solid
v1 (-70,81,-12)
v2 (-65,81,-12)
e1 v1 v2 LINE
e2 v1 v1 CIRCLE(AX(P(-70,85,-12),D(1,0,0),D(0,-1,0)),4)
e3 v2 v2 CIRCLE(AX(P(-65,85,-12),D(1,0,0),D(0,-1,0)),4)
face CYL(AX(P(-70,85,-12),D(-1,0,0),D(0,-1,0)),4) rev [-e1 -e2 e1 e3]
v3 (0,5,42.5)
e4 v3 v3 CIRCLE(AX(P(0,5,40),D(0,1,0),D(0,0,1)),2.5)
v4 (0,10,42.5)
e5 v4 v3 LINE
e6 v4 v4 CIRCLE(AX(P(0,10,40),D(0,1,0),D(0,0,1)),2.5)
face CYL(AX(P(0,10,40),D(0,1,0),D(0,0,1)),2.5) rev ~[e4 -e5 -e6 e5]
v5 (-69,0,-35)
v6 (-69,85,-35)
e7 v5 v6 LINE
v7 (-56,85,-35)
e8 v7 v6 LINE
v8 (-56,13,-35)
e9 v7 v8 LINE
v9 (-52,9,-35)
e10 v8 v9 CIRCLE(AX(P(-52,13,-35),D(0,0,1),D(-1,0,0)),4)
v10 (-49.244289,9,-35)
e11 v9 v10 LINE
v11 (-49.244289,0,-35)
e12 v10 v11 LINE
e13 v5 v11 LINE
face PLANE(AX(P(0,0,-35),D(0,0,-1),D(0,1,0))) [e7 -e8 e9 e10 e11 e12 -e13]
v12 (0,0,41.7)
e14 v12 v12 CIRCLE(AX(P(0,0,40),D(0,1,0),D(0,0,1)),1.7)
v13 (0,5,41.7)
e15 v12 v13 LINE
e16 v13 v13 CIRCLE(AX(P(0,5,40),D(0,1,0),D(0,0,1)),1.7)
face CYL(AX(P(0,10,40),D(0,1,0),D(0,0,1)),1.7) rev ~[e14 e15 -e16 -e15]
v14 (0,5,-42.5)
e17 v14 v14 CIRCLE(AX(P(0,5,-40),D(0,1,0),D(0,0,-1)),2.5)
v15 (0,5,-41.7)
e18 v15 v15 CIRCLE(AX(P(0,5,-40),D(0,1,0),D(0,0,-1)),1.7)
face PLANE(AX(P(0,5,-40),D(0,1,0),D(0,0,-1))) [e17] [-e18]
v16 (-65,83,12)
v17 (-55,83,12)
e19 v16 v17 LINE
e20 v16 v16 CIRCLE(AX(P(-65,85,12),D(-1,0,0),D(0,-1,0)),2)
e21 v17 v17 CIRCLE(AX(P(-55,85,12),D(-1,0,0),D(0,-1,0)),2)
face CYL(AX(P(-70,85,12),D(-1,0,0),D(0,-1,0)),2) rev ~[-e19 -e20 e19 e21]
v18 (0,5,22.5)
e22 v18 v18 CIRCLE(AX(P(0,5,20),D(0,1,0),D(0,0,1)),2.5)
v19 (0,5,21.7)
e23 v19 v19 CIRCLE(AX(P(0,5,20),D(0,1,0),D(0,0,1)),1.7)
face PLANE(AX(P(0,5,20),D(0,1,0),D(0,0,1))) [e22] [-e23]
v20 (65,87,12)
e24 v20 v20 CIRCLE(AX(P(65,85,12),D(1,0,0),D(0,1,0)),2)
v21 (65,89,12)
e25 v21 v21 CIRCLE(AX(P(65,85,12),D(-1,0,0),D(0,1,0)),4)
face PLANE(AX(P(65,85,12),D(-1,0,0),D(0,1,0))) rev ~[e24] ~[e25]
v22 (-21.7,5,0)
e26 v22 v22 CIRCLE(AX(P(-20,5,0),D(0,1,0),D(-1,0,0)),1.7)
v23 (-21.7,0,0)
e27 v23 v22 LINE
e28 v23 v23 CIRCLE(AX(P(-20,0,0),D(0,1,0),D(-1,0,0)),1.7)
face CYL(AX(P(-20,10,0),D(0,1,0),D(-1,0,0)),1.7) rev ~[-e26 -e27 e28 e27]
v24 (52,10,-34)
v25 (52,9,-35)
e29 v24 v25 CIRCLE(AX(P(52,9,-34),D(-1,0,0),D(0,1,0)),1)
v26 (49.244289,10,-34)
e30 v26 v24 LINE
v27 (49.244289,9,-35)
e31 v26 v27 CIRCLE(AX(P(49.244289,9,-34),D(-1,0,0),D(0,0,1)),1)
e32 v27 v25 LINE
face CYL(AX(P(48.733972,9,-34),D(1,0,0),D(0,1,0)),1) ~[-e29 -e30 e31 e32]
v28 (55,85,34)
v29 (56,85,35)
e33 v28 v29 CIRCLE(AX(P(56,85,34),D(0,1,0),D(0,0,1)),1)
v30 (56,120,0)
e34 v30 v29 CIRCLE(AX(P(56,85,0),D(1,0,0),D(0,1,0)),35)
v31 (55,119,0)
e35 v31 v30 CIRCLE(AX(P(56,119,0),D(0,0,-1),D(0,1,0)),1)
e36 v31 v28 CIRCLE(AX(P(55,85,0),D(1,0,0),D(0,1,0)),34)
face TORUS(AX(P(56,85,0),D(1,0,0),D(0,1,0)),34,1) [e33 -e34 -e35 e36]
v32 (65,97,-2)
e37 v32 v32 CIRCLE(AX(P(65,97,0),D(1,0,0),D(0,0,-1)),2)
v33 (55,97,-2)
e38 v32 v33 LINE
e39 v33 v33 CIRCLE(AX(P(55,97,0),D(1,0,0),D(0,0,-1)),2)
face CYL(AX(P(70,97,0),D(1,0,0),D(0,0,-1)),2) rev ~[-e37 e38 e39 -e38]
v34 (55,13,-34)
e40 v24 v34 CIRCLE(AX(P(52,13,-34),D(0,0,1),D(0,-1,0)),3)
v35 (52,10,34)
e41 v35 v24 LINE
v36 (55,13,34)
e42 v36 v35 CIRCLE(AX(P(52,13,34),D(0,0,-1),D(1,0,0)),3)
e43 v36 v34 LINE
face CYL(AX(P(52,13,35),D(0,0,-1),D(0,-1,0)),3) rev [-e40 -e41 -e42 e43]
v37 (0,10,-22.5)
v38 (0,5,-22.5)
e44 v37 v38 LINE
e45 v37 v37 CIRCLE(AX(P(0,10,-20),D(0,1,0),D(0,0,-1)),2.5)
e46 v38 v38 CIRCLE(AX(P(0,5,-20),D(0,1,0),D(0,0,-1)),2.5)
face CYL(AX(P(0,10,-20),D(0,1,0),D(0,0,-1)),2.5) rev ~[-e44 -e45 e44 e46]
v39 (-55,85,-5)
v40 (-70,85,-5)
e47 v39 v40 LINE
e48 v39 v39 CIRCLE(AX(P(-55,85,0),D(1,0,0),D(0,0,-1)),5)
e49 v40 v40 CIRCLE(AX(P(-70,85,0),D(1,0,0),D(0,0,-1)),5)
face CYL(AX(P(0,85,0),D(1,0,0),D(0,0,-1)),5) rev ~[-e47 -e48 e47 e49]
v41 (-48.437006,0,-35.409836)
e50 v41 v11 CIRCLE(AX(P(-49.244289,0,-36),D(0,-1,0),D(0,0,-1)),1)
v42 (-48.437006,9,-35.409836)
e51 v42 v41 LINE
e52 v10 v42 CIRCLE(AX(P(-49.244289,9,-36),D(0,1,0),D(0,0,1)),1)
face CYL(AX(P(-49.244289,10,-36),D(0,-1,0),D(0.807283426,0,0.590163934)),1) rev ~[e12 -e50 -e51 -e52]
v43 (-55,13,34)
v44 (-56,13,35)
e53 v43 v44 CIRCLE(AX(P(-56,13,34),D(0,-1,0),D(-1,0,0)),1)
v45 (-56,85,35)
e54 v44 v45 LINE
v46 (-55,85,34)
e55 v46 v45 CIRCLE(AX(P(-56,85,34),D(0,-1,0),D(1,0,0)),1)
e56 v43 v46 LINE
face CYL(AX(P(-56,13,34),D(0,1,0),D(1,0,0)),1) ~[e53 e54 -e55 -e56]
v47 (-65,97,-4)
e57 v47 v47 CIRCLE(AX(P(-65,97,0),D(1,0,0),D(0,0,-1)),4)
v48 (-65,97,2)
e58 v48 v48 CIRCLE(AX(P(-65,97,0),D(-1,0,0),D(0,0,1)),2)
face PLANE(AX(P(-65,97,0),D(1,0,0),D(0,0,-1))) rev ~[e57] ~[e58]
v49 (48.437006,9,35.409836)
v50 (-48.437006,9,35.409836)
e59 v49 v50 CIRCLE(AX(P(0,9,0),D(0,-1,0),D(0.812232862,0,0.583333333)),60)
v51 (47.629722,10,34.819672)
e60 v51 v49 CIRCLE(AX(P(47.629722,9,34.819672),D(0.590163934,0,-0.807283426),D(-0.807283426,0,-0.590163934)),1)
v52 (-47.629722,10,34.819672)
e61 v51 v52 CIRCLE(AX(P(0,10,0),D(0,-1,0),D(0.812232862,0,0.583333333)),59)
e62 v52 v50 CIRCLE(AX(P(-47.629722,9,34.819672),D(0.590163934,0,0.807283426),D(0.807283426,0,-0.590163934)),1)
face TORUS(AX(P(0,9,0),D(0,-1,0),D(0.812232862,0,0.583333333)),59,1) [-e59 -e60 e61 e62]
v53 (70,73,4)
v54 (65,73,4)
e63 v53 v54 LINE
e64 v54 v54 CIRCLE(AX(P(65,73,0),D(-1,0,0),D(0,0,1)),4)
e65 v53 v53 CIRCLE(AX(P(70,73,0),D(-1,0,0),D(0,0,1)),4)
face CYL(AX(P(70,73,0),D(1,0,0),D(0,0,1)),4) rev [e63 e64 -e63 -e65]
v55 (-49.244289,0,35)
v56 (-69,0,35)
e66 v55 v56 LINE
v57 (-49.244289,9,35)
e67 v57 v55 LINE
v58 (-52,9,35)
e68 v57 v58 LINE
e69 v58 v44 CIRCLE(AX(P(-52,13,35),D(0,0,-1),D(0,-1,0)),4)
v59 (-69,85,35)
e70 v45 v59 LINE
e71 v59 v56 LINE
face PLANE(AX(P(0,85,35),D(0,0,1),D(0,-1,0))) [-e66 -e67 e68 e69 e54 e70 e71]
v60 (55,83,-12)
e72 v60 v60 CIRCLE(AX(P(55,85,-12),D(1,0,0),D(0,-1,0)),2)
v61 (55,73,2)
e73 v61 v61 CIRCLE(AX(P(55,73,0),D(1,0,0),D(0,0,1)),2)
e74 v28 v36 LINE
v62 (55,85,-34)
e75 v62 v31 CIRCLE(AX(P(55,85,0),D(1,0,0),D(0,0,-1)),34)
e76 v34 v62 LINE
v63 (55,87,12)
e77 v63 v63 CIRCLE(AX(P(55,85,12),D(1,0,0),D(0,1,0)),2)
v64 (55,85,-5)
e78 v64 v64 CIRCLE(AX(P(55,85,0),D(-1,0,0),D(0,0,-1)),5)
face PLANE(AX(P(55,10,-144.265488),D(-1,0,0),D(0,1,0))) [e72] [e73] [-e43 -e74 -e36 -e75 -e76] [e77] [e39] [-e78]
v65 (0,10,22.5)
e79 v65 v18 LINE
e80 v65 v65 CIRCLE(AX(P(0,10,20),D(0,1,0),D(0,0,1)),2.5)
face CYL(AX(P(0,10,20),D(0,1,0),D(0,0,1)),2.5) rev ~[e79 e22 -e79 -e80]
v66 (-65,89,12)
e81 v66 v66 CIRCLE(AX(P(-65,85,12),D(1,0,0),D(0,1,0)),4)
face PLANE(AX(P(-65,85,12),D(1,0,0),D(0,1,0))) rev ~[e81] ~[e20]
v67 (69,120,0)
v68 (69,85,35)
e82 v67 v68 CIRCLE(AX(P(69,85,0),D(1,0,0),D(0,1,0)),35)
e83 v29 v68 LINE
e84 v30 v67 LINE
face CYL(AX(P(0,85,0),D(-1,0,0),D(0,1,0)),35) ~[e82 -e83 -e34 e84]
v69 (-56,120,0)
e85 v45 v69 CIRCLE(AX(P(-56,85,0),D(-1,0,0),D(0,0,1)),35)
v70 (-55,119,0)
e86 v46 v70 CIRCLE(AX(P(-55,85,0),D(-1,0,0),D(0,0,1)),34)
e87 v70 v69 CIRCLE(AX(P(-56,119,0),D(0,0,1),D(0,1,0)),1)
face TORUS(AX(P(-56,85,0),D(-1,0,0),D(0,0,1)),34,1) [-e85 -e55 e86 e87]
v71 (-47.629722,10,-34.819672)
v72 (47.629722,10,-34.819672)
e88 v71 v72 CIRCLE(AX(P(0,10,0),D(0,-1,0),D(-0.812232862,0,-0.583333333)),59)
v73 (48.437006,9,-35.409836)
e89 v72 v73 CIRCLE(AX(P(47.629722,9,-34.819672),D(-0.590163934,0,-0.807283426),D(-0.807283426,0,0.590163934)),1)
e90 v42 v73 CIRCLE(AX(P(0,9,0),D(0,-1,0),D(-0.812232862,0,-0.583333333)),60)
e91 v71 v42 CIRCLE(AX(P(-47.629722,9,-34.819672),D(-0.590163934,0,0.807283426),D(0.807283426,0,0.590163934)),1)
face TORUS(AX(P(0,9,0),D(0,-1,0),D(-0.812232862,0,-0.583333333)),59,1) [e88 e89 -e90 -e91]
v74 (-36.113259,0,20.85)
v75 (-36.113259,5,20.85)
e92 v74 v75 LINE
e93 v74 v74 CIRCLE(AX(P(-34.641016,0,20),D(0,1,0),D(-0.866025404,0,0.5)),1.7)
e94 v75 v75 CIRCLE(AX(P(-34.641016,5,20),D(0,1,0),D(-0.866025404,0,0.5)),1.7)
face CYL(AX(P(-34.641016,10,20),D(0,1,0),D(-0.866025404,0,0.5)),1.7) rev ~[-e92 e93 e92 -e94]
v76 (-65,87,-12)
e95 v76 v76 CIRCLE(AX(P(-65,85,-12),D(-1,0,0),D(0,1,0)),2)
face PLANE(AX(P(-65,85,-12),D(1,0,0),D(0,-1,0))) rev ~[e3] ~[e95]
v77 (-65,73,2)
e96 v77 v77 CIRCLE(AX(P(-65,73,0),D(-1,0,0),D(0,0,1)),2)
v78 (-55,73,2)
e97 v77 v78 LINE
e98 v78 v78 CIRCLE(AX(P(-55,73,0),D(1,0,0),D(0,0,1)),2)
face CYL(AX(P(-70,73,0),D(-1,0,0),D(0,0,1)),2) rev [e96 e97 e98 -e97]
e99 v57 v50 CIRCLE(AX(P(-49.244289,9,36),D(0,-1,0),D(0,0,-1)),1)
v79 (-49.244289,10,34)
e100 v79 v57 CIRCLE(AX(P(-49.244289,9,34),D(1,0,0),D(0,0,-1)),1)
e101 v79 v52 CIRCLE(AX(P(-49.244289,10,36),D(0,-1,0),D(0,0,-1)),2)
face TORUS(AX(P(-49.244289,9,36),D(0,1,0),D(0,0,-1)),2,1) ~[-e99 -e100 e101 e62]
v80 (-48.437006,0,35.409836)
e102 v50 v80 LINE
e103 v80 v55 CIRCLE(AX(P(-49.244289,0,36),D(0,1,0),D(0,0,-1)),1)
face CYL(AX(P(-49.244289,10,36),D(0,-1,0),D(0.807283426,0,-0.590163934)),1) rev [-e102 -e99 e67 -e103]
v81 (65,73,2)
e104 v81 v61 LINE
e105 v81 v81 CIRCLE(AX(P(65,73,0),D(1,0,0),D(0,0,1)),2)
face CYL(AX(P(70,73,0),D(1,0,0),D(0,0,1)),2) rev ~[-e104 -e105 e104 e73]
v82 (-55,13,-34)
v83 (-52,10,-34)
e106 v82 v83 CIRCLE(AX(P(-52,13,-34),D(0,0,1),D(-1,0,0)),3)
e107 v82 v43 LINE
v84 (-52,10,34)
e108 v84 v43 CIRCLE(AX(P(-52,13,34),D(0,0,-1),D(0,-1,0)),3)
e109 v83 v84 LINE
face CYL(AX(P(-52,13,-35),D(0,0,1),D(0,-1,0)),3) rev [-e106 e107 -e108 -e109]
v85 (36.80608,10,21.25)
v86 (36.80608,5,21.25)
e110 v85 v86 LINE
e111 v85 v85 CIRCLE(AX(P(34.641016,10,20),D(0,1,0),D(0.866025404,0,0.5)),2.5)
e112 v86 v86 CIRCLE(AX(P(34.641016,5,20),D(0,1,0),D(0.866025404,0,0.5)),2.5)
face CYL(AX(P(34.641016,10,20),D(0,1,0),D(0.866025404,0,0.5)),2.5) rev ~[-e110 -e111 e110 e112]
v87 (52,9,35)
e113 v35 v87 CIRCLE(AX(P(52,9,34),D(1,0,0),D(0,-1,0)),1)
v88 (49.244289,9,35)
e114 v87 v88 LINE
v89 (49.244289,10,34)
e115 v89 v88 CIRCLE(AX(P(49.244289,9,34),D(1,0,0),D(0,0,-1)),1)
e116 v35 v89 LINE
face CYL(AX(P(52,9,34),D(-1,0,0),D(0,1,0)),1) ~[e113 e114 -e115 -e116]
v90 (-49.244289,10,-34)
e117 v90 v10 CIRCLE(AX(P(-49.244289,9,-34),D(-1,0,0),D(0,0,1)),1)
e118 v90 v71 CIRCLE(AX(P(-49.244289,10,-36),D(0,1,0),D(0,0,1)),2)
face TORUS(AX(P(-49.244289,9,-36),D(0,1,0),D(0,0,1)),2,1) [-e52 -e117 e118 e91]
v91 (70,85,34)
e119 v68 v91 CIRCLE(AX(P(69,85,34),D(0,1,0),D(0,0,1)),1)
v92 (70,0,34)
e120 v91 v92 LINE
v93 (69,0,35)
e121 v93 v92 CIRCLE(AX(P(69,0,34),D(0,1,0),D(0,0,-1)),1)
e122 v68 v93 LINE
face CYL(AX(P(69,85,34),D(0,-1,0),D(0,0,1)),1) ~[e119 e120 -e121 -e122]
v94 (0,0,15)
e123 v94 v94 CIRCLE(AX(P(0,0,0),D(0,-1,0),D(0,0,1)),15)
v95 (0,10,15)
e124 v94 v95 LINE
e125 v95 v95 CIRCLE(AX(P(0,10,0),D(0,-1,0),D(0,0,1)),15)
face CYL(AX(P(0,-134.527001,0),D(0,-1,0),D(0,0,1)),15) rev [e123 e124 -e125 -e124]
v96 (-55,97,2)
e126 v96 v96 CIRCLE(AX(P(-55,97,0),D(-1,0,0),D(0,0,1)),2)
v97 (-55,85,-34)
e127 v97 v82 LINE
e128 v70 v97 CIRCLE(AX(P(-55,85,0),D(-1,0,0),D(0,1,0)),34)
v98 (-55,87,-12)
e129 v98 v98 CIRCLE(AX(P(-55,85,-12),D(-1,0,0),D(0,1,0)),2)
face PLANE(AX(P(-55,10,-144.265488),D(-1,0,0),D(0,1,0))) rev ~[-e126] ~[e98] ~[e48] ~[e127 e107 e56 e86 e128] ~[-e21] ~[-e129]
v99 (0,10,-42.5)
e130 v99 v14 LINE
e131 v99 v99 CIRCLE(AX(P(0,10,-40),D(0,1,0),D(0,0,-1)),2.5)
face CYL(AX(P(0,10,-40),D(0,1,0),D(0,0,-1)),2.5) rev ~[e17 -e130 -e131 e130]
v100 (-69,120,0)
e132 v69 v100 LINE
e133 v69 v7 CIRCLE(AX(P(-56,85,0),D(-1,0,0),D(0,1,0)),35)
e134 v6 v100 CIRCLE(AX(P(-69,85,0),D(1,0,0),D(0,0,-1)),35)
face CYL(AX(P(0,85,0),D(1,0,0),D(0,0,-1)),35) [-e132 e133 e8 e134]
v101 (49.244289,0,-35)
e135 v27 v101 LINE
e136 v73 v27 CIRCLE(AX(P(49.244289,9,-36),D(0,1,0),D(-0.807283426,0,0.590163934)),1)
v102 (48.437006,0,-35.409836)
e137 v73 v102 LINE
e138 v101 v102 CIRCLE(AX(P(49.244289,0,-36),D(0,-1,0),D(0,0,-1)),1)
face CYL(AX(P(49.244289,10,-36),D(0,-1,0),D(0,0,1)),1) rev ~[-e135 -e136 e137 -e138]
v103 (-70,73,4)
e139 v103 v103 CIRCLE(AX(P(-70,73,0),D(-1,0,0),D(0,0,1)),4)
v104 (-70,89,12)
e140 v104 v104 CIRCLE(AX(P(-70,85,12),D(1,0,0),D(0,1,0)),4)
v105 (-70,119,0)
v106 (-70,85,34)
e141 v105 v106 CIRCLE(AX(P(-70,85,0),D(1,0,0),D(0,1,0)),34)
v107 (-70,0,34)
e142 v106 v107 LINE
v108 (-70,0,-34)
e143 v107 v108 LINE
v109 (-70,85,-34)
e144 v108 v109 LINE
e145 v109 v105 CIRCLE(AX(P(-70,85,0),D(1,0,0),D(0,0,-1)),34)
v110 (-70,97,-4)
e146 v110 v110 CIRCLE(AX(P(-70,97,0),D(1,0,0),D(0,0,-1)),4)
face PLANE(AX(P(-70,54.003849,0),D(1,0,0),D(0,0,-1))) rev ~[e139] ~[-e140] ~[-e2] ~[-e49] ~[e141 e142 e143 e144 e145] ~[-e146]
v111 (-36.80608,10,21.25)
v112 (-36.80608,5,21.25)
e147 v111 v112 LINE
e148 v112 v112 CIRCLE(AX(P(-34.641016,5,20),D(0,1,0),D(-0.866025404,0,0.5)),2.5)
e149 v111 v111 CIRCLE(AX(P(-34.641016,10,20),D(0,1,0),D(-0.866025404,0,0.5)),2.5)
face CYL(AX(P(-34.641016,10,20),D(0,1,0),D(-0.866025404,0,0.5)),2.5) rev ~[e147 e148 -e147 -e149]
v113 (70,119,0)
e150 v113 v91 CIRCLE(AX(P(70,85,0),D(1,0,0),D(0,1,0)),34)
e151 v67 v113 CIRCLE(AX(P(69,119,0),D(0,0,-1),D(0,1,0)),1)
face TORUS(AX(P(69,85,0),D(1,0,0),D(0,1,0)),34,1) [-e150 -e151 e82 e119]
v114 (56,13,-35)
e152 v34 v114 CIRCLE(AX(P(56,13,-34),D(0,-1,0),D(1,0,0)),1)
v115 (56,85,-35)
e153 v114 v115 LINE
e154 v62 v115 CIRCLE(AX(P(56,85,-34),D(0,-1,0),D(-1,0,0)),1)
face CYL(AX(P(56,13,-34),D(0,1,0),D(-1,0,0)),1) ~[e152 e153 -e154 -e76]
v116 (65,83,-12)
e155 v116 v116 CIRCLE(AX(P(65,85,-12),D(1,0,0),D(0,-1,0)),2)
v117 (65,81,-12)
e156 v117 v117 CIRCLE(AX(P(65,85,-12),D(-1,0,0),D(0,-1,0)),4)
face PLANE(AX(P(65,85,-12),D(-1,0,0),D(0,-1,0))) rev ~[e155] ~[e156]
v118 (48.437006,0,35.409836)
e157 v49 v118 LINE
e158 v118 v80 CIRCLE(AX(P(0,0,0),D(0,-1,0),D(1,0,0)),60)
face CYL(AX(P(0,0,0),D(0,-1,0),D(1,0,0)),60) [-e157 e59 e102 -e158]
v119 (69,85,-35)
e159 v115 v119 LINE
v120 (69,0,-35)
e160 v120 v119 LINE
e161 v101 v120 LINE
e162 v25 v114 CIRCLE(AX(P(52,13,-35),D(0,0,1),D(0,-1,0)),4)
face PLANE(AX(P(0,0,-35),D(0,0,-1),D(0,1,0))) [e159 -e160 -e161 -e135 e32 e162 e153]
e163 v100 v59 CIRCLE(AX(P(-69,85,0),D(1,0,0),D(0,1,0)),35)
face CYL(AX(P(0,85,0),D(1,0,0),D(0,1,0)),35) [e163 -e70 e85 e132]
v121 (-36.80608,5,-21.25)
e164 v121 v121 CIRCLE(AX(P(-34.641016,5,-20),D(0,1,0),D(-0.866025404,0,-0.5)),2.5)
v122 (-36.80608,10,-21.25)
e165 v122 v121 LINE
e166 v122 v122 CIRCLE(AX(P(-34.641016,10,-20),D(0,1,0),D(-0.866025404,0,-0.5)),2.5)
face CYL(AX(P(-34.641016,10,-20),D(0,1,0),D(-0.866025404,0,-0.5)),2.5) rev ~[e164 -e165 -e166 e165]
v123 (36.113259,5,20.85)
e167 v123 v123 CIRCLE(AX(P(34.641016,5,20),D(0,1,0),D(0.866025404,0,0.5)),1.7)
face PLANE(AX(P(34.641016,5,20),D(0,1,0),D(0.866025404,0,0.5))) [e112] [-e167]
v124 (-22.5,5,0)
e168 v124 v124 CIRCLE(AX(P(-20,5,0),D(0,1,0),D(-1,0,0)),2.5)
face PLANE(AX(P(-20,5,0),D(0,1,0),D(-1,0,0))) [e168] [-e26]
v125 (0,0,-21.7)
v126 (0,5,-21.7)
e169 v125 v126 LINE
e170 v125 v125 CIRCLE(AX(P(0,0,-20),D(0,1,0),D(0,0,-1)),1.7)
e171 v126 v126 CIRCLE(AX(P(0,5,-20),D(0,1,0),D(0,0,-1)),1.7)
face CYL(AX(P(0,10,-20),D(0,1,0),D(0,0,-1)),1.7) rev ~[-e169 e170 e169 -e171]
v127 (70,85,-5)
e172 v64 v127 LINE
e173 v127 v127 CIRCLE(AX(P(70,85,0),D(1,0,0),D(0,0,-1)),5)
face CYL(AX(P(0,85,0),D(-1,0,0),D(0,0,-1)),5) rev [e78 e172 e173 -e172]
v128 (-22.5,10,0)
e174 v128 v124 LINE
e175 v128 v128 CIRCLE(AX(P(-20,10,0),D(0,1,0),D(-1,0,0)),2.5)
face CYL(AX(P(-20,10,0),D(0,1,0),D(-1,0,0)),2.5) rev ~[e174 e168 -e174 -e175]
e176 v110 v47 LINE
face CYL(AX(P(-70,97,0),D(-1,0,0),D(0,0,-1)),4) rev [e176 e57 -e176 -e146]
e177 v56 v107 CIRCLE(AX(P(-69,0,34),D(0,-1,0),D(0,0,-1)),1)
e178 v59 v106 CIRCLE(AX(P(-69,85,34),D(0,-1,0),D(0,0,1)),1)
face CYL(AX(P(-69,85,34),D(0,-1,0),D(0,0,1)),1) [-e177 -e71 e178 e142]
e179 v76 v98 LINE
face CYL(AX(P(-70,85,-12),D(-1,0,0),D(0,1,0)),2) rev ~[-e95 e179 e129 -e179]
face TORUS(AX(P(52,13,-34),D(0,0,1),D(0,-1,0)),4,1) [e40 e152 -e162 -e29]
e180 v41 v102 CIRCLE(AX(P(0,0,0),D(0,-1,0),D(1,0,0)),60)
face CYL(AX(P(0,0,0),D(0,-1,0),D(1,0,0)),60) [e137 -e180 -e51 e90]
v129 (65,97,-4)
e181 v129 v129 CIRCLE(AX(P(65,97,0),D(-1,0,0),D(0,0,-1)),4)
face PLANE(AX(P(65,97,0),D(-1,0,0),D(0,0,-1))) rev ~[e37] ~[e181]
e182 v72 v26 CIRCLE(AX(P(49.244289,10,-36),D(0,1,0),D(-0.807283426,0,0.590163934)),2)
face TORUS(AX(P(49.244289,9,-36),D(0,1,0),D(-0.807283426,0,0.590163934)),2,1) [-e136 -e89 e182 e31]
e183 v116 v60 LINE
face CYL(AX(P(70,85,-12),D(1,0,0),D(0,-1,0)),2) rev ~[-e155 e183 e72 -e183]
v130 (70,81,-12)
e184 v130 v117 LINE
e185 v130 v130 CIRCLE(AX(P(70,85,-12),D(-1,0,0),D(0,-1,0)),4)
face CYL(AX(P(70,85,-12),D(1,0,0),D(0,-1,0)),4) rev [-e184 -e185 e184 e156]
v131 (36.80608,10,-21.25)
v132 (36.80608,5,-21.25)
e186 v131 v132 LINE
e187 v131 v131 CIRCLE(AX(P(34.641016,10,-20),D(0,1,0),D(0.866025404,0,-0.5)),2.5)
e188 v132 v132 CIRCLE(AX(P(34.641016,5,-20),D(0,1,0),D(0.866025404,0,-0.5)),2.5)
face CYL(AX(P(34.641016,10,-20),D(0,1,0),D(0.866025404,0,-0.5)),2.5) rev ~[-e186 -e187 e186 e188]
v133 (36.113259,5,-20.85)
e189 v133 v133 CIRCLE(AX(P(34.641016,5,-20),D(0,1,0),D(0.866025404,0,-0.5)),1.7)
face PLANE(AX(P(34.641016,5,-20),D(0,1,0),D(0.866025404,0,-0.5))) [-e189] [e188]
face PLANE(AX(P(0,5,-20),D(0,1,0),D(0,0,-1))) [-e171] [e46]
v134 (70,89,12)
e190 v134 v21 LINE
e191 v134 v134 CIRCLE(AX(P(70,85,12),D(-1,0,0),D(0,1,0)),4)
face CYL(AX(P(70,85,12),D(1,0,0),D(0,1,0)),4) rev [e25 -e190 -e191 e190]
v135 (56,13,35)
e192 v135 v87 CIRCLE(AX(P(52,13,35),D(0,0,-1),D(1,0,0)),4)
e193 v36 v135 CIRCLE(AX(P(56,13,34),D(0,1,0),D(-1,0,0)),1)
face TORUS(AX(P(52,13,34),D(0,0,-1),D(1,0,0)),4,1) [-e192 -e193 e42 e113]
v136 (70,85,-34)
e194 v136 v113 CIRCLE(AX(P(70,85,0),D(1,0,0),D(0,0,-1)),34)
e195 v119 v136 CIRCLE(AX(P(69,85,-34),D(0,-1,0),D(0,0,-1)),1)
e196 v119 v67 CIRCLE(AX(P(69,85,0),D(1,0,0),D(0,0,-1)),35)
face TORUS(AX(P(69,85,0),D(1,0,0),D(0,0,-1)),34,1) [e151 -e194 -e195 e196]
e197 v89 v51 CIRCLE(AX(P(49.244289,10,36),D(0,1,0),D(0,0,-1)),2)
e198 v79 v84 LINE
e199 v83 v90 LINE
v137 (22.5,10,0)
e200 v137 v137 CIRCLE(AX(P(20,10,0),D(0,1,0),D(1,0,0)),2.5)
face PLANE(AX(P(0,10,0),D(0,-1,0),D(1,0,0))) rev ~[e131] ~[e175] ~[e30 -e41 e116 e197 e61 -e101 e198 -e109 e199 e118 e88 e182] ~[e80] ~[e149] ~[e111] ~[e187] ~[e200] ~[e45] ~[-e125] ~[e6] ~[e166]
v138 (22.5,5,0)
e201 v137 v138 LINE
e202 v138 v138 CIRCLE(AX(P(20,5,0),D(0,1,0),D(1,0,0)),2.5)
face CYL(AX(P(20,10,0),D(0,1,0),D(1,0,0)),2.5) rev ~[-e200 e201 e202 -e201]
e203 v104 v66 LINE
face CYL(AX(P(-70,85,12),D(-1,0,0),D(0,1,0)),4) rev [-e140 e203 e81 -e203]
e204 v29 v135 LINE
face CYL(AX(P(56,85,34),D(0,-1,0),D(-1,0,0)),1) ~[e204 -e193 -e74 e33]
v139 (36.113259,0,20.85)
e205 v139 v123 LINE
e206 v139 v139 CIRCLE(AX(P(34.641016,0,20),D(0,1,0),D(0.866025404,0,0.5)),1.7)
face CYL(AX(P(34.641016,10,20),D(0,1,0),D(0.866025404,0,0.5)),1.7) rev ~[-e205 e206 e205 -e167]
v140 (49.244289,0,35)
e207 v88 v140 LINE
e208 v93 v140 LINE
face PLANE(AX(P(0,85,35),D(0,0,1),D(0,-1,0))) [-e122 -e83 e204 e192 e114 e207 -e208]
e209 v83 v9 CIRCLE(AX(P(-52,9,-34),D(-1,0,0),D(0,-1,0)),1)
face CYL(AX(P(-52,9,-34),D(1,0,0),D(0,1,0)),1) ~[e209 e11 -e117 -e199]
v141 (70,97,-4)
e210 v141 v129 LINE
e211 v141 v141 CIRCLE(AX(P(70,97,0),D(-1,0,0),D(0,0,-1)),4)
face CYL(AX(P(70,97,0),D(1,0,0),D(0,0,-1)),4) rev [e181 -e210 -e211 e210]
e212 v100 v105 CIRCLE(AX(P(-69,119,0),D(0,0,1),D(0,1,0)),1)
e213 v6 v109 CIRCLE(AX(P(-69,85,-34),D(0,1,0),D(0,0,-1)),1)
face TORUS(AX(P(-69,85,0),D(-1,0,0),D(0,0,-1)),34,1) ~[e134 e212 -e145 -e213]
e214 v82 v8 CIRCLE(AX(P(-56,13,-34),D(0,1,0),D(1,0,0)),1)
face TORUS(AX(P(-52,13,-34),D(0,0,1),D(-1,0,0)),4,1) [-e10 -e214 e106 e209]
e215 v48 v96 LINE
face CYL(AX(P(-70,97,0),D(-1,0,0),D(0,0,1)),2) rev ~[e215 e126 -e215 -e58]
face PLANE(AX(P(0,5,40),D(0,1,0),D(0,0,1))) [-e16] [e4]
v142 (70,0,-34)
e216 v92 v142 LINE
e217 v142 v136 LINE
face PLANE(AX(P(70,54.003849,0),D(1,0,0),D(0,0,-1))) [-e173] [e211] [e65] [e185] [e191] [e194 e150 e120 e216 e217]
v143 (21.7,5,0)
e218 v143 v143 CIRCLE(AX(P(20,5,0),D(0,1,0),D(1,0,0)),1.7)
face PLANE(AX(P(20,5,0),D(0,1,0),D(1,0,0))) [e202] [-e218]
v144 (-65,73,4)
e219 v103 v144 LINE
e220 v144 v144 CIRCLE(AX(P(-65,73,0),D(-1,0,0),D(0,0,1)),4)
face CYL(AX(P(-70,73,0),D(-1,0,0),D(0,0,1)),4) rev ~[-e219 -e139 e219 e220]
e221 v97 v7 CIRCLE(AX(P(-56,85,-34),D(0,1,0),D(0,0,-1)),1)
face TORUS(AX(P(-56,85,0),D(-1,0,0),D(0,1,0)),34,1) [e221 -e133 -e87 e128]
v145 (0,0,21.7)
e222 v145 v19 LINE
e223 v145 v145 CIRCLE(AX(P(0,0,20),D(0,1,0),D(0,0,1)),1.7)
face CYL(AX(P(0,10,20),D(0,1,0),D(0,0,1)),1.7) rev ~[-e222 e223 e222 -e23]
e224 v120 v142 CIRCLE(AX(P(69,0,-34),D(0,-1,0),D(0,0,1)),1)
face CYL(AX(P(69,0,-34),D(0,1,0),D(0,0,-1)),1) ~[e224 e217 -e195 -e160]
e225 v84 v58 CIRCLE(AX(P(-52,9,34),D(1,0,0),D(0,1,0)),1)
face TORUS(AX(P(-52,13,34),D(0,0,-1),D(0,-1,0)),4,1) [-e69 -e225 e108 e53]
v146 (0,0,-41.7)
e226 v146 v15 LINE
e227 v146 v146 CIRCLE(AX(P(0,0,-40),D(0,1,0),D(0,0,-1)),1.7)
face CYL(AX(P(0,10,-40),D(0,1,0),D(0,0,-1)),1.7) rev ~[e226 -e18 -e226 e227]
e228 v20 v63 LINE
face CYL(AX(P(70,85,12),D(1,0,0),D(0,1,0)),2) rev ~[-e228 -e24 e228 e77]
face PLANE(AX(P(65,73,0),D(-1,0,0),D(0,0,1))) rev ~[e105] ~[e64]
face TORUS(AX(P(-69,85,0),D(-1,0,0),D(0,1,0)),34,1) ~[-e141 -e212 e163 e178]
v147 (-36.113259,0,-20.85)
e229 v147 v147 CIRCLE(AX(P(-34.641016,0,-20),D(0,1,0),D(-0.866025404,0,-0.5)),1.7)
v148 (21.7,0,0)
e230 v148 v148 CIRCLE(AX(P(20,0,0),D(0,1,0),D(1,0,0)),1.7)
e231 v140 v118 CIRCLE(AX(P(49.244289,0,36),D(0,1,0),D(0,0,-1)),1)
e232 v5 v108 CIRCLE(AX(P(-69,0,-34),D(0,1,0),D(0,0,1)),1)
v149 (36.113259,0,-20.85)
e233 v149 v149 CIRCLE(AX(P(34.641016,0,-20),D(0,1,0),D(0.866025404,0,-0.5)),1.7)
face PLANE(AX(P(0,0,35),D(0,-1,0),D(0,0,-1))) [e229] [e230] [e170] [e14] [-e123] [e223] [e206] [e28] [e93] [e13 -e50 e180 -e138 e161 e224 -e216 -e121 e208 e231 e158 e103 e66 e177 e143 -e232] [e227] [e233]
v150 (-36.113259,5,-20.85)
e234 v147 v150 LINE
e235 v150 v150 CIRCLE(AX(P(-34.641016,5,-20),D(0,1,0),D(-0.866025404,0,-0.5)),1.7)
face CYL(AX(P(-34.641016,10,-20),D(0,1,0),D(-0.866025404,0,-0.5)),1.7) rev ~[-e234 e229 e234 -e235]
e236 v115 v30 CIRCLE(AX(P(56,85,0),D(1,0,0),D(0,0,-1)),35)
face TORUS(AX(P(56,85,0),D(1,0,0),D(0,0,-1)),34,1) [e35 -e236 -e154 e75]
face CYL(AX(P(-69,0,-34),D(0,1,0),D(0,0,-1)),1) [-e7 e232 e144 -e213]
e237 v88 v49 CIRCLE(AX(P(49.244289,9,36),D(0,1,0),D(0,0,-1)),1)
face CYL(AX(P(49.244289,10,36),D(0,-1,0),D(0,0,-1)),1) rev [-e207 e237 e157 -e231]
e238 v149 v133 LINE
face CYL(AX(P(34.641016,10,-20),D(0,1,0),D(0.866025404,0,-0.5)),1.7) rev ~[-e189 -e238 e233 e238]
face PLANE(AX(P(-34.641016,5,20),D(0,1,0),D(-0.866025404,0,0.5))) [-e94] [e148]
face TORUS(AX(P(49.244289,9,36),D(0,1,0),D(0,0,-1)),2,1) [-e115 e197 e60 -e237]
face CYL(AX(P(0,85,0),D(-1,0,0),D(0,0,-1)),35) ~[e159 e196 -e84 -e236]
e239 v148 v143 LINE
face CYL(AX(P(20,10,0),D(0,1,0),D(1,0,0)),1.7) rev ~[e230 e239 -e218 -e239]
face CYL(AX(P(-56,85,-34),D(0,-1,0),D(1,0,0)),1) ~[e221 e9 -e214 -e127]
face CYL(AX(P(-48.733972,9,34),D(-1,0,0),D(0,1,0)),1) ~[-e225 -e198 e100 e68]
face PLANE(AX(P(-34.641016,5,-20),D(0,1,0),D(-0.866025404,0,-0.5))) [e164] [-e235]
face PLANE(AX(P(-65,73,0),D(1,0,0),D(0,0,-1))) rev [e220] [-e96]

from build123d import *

# Parameters (mm, degrees)
SKETCH1_R                      = 5
BOSS_EXTRUDE1_DEPTH            = 70
CUT_EXTRUDE1_DEPTH             = 144.265487819
CUT_EXTRUDE1_DEPTH_BACK        = 144.265487819
SKETCH2_W                      = 110
SKETCH2_H                      = 110
SKETCH10_R                     = 60
BOSS_EXTRUDE3_DEPTH            = 10
CUT_EXTRUDE5_DEPTH             = 144.527000944
CUT_EXTRUDE5_DEPTH_BACK        = 144.527000944
SKETCH6_R                      = 15
CUT_EXTRUDE6_REACH             = 195.907
SKETCH7_R                      = 2
CUT_EXTRUDE6_DIRECTION_2_DEPTH = 194.907194297
SKETCH8_R                      = 4
CUT_EXTRUDE7_DEPTH             = 5
CIRPATTERN1_COUNT              = 4
MIRROR2_COPY_1_REACH           = 195.907
MIRROR2_COPY_1_SKETCH_R        = 2
MIRROR2_COPY_2_REACH           = 195.907
MIRROR2_COPY_2_SKETCH_R        = 2
MIRROR2_COPY_3_REACH           = 195.907
MIRROR2_COPY_3_SKETCH_R        = 2
MIRROR2_COPY_4_SKETCH_R        = 2
MIRROR2_COPY_4_DEPTH           = 194.907194297
MIRROR2_COPY_5_SKETCH_R        = 2
MIRROR2_COPY_5_DEPTH           = 194.907194297
MIRROR2_COPY_6_SKETCH_R        = 2
MIRROR2_COPY_6_DEPTH           = 194.907194297
MIRROR2_COPY_7_SKETCH_R        = 4
MIRROR2_COPY_7_DEPTH           = 5
MIRROR2_COPY_8_SKETCH_R        = 4
MIRROR2_COPY_8_DEPTH           = 5
MIRROR2_COPY_9_SKETCH_R        = 4
MIRROR2_COPY_9_DEPTH           = 5
MIRROR2_COPY_10_SKETCH_R       = 2
MIRROR2_COPY_10_DEPTH          = 194.907194297
SKETCH11_R                     = 1.7
CUT_EXTRUDE8_DEPTH             = 144.527000944
SKETCH12_R                     = 2.5
CUT_EXTRUDE9_DEPTH             = 5
CIRPATTERN2_COUNT              = 6
SKETCH13_R                     = 1.7
CUT_EXTRUDE10_DEPTH            = 144.527000944
SKETCH14_R                     = 2.5
CUT_EXTRUDE11_DEPTH            = 5
CIRPATTERN3_COUNT              = 4
FILLET2_R                      = 3
FILLET1_R                      = 1


with BuildPart() as part:
    # Sketch1 → Boss-Extrude1 (new, symmetric)
    with BuildSketch(Plane(origin=(0, 0, 0), x_dir=(0, 0, -1), z_dir=(1, 0, 0))):
        with BuildLine():
            Line((-35, 0), (35, 0))
            Line((35, 0), (35, 85))
            ThreePointArc((35, 85), (24.748737342, 109.748737342), (0, 120))
            ThreePointArc((0, 120), (-24.748737342, 109.748737342), (-35, 85))
            Line((-35, 85), (-35, 0))
        make_face()
        with Locations((0, 85)):
            Circle(SKETCH1_R, mode=Mode.SUBTRACT)
    extrude(amount=BOSS_EXTRUDE1_DEPTH, both=True)

    # Sketch2 → Cut-Extrude1 (cut, two sides: drawn at the far end of the back side and taken through both)
    with BuildSketch(Plane.XY.offset(-CUT_EXTRUDE1_DEPTH_BACK)):
        with Locations((0, 65)):
            Rectangle(SKETCH2_W, SKETCH2_H)
    extrude(amount=CUT_EXTRUDE1_DEPTH + CUT_EXTRUDE1_DEPTH_BACK, mode=Mode.SUBTRACT)

    # Sketch10 → Boss-Extrude3 (add)
    with BuildSketch(Plane.XZ):
        Circle(SKETCH10_R)
    extrude(amount=-BOSS_EXTRUDE3_DEPTH)

    # Sketch6 → Cut-Extrude5 (cut, two sides: drawn at the far end of the back side and taken through both)
    with BuildSketch(Plane(origin=(0, 10, 0), x_dir=(1, 0, 0), z_dir=(0, 1, 0)).offset(-CUT_EXTRUDE5_DEPTH_BACK)):
        with Locations(Location((0, 0, 0), (0, 0, 270))):
            Circle(SKETCH6_R)
    extrude(amount=CUT_EXTRUDE5_DEPTH + CUT_EXTRUDE5_DEPTH_BACK, mode=Mode.SUBTRACT)

    # Sketch7 → Cut-Extrude6 (cut, up to next)
    with BuildSketch(Plane(origin=(70, 0, 0), x_dir=(0, 0, -1), z_dir=(1, 0, 0)), mode=Mode.PRIVATE) as cut_extrude6_sk1:
        with Locations(Location((0, 73, 0), (0, 0, 180))):
            Circle(SKETCH7_R)
    cut_extrude6_tool1 = extrude(cut_extrude6_sk1.sketch, amount=-CUT_EXTRUDE6_REACH, mode=Mode.PRIVATE) & part.part
    cut_extrude6 = cut_extrude6_tool1.solids().sort_by_distance((70, 73, 0))[0]
    add(cut_extrude6, mode=Mode.SUBTRACT)

    # Sketch7 → Cut-Extrude6 direction 2 (cut)
    with BuildSketch(Plane(origin=(70, 0, 0), x_dir=(0, 0, -1), z_dir=(1, 0, 0))):
        with Locations(Location((0, 73, 0), (0, 0, 180))):
            Circle(SKETCH7_R)
    cut_extrude6_direction_2 = extrude(amount=CUT_EXTRUDE6_DIRECTION_2_DEPTH, mode=Mode.SUBTRACT)

    # Sketch8 → Cut-Extrude7 (cut)
    with BuildSketch(Plane.ZY.offset(-70)):
        with Locations((0, 73)):
            Circle(SKETCH8_R)
    cut_extrude7 = extrude(amount=CUT_EXTRUDE7_DEPTH, mode=Mode.SUBTRACT)

    # CirPattern1: Cut-Extrude6, Cut-Extrude6 direction 2, Cut-Extrude7 ×4 about axis
    cirpattern1_axis = Axis((0, 85, 0), (1, 0, 0))
    add([cut_extrude6.rotate(cirpattern1_axis, i * 360 / CIRPATTERN1_COUNT) for i in range(1, CIRPATTERN1_COUNT)], mode=Mode.SUBTRACT)
    add([cut_extrude6_direction_2.rotate(cirpattern1_axis, i * 360 / CIRPATTERN1_COUNT) for i in range(1, CIRPATTERN1_COUNT)], mode=Mode.SUBTRACT)
    add([cut_extrude7.rotate(cirpattern1_axis, i * 360 / CIRPATTERN1_COUNT) for i in range(1, CIRPATTERN1_COUNT)], mode=Mode.SUBTRACT)

    # Mirror2: Cut-Extrude6, Cut-Extrude6 direction 2, Cut-Extrude7 across plane
    add(cut_extrude6.mirror(Plane(origin=(0, 0, 0), x_dir=(0, 0, 1), z_dir=(1, 0, 0))), mode=Mode.SUBTRACT)
    add(cut_extrude6_direction_2.mirror(Plane(origin=(0, 0, 0), x_dir=(0, 0, 1), z_dir=(1, 0, 0))), mode=Mode.SUBTRACT)
    add(cut_extrude7.mirror(Plane(origin=(0, 0, 0), x_dir=(0, 0, 1), z_dir=(1, 0, 0))), mode=Mode.SUBTRACT)

    # Mirror2 copy 1 sketch → Mirror2 copy 1 (cut, up to next)
    with BuildSketch(Plane(origin=(-70, 85, -85), x_dir=(0, 1, 0), z_dir=(-1, 0, 0)), mode=Mode.PRIVATE) as mirror2_copy_1_sk1:
        with Locations((0, -73)):
            Circle(MIRROR2_COPY_1_SKETCH_R)
    mirror2_copy_1_tool1 = extrude(mirror2_copy_1_sk1.sketch, amount=-MIRROR2_COPY_1_REACH, mode=Mode.PRIVATE) & part.part
    add(mirror2_copy_1_tool1.solids().sort_by_distance((-70, 85, -12))[0], mode=Mode.SUBTRACT)

    # Mirror2 copy 2 sketch → Mirror2 copy 2 (cut, up to next)
    with BuildSketch(Plane(origin=(-70, 170, 0), x_dir=(0, 0, 1), z_dir=(-1, 0, 0)), mode=Mode.PRIVATE) as mirror2_copy_2_sk1:
        with Locations((0, -73)):
            Circle(MIRROR2_COPY_2_SKETCH_R)
    mirror2_copy_2_tool1 = extrude(mirror2_copy_2_sk1.sketch, amount=-MIRROR2_COPY_2_REACH, mode=Mode.PRIVATE) & part.part
    add(mirror2_copy_2_tool1.solids().sort_by_distance((-70, 97, 0))[0], mode=Mode.SUBTRACT)

    # Mirror2 copy 3 sketch → Mirror2 copy 3 (cut, up to next)
    with BuildSketch(Plane(origin=(-70, 85, 85), x_dir=(0, -1, 0), z_dir=(-1, 0, 0)), mode=Mode.PRIVATE) as mirror2_copy_3_sk1:
        with Locations((0, -73)):
            Circle(MIRROR2_COPY_3_SKETCH_R)
    mirror2_copy_3_tool1 = extrude(mirror2_copy_3_sk1.sketch, amount=-MIRROR2_COPY_3_REACH, mode=Mode.PRIVATE) & part.part
    add(mirror2_copy_3_tool1.solids().sort_by_distance((-70, 85, 12))[0], mode=Mode.SUBTRACT)

    # Mirror2 copy 4 sketch → Mirror2 copy 4 (cut)
    with BuildSketch(Plane(origin=(-70, 85, -85), x_dir=(0, 1, 0), z_dir=(-1, 0, 0))):
        with Locations((0, -73)):
            Circle(MIRROR2_COPY_4_SKETCH_R)
    extrude(amount=MIRROR2_COPY_4_DEPTH, mode=Mode.SUBTRACT)

    # Mirror2 copy 5 sketch → Mirror2 copy 5 (cut)
    with BuildSketch(Plane(origin=(-70, 170, 0), x_dir=(0, 0, 1), z_dir=(-1, 0, 0))):
        with Locations((0, -73)):
            Circle(MIRROR2_COPY_5_SKETCH_R)
    extrude(amount=MIRROR2_COPY_5_DEPTH, mode=Mode.SUBTRACT)

    # Mirror2 copy 6 sketch → Mirror2 copy 6 (cut)
    with BuildSketch(Plane(origin=(-70, 85, 85), x_dir=(0, -1, 0), z_dir=(-1, 0, 0))):
        with Locations((0, -73)):
            Circle(MIRROR2_COPY_6_SKETCH_R)
    extrude(amount=MIRROR2_COPY_6_DEPTH, mode=Mode.SUBTRACT)

    # Mirror2 copy 7 sketch → Mirror2 copy 7 (cut)
    with BuildSketch(Plane(origin=(-70, 85, -85), x_dir=(0, -1, 0), z_dir=(1, 0, 0))):
        with Locations((0, -73)):
            Circle(MIRROR2_COPY_7_SKETCH_R)
    extrude(amount=MIRROR2_COPY_7_DEPTH, mode=Mode.SUBTRACT)

    # Mirror2 copy 8 sketch → Mirror2 copy 8 (cut)
    with BuildSketch(Plane(origin=(-70, 170, 0), x_dir=(0, 0, -1), z_dir=(1, 0, 0))):
        with Locations((0, -73)):
            Circle(MIRROR2_COPY_8_SKETCH_R)
    extrude(amount=MIRROR2_COPY_8_DEPTH, mode=Mode.SUBTRACT)

    # Mirror2 copy 9 sketch → Mirror2 copy 9 (cut)
    with BuildSketch(Plane(origin=(-70, 85, 85), x_dir=(0, 1, 0), z_dir=(1, 0, 0))):
        with Locations((0, -73)):
            Circle(MIRROR2_COPY_9_SKETCH_R)
    extrude(amount=MIRROR2_COPY_9_DEPTH, mode=Mode.SUBTRACT)

    # Mirror2 copy 10 sketch → Mirror2 copy 10 (cut)
    with BuildSketch(Plane(origin=(-70, 0, 0), x_dir=(0, 0, -1), z_dir=(-1, 0, 0))):
        with Locations((0, -73)):
            Circle(MIRROR2_COPY_10_SKETCH_R)
    extrude(amount=MIRROR2_COPY_10_DEPTH, mode=Mode.SUBTRACT)

    # Sketch11 → Cut-Extrude8 (cut, symmetric)
    with BuildSketch(Plane(origin=(0, 10, 0), x_dir=(1, 0, 0), z_dir=(0, 1, 0))):
        with Locations(Location((0, -40, 0), (0, 0, 270))):
            Circle(SKETCH11_R)
    cut_extrude8 = extrude(amount=CUT_EXTRUDE8_DEPTH, both=True, mode=Mode.SUBTRACT)

    # Sketch12 → Cut-Extrude9 (cut)
    with BuildSketch(Plane(origin=(0, 10, 0), x_dir=(1, 0, 0), z_dir=(0, 1, 0))):
        with Locations(Location((0, -40, 0), (0, 0, 270))):
            Circle(SKETCH12_R)
    cut_extrude9 = extrude(amount=-CUT_EXTRUDE9_DEPTH, mode=Mode.SUBTRACT)

    # CirPattern2: Cut-Extrude8, Cut-Extrude9 ×6 about axis
    cirpattern2_axis = Axis((0, 0, 0), (0, 1, 0))
    add([cut_extrude8.rotate(cirpattern2_axis, i * 360 / CIRPATTERN2_COUNT) for i in range(1, CIRPATTERN2_COUNT)], mode=Mode.SUBTRACT)
    add([cut_extrude9.rotate(cirpattern2_axis, i * 360 / CIRPATTERN2_COUNT) for i in range(1, CIRPATTERN2_COUNT)], mode=Mode.SUBTRACT)

    # Sketch13 → Cut-Extrude10 (cut, symmetric)
    with BuildSketch(Plane(origin=(0, 10, 0), x_dir=(1, 0, 0), z_dir=(0, 1, 0))):
        with Locations(Location((0, -20, 0), (0, 0, 270))):
            Circle(SKETCH13_R)
    cut_extrude10 = extrude(amount=CUT_EXTRUDE10_DEPTH, both=True, mode=Mode.SUBTRACT)

    # Sketch14 → Cut-Extrude11 (cut)
    with BuildSketch(Plane(origin=(0, 10, 0), x_dir=(1, 0, 0), z_dir=(0, 1, 0))):
        with Locations(Location((0, -20, 0), (0, 0, 270))):
            Circle(SKETCH14_R)
    cut_extrude11 = extrude(amount=-CUT_EXTRUDE11_DEPTH, mode=Mode.SUBTRACT)

    # CirPattern3: Cut-Extrude10, Cut-Extrude11 ×4 about axis
    cirpattern3_axis = Axis((0, 0, 0), (0, 1, 0))
    add([cut_extrude10.rotate(cirpattern3_axis, i * 360 / CIRPATTERN3_COUNT) for i in range(1, CIRPATTERN3_COUNT)], mode=Mode.SUBTRACT)
    add([cut_extrude11.rotate(cirpattern3_axis, i * 360 / CIRPATTERN3_COUNT) for i in range(1, CIRPATTERN3_COUNT)], mode=Mode.SUBTRACT)

    # Fillet2
    fillet2_edges = [part.edges().sort_by_distance(p)[0] for p in [
        (-55, 10, 0),
        (55, 10, 0),
    ]]
    fillet(fillet2_edges, radius=FILLET2_R)

    # Fillet1
    fillet1_edges = [part.edges().sort_by_distance(p)[0] for p in [
        (70, 42.5, 35),
        (70, 42.5, -35),
        (-50.366985862, 10, 35),
        (-50.366985862, 10, -35),
        (55, 49, -35),
        (55, 49, 35),
        (-54.121320344, 10.878679656, 35),
        (-54.121320344, 10.878679656, -35),
        (54.121320344, 10.878679656, 35),
        (54.121320344, 10.878679656, -35),
        (-55, 49, 35),
        (-55, 120, 0),
        (-55, 49, -35),
        (55, 120, 0),
        (50.366985862, 10, -35),
        (70, 120, 0),
        (50.366985862, 10, 35),
        (0, 10, 60),
        (-70, 42.5, -35),
        (48.733971724, 5, 35),
        (48.733971724, 5, -35),
        (0, 10, -60),
        (-48.733971724, 5, 35),
        (-48.733971724, 5, -35),
        (-70, 42.5, 35),
        (-70, 120, 0),
    ]]
    fillet(fillet1_edges, radius=FILLET1_R)


solid = part.part
